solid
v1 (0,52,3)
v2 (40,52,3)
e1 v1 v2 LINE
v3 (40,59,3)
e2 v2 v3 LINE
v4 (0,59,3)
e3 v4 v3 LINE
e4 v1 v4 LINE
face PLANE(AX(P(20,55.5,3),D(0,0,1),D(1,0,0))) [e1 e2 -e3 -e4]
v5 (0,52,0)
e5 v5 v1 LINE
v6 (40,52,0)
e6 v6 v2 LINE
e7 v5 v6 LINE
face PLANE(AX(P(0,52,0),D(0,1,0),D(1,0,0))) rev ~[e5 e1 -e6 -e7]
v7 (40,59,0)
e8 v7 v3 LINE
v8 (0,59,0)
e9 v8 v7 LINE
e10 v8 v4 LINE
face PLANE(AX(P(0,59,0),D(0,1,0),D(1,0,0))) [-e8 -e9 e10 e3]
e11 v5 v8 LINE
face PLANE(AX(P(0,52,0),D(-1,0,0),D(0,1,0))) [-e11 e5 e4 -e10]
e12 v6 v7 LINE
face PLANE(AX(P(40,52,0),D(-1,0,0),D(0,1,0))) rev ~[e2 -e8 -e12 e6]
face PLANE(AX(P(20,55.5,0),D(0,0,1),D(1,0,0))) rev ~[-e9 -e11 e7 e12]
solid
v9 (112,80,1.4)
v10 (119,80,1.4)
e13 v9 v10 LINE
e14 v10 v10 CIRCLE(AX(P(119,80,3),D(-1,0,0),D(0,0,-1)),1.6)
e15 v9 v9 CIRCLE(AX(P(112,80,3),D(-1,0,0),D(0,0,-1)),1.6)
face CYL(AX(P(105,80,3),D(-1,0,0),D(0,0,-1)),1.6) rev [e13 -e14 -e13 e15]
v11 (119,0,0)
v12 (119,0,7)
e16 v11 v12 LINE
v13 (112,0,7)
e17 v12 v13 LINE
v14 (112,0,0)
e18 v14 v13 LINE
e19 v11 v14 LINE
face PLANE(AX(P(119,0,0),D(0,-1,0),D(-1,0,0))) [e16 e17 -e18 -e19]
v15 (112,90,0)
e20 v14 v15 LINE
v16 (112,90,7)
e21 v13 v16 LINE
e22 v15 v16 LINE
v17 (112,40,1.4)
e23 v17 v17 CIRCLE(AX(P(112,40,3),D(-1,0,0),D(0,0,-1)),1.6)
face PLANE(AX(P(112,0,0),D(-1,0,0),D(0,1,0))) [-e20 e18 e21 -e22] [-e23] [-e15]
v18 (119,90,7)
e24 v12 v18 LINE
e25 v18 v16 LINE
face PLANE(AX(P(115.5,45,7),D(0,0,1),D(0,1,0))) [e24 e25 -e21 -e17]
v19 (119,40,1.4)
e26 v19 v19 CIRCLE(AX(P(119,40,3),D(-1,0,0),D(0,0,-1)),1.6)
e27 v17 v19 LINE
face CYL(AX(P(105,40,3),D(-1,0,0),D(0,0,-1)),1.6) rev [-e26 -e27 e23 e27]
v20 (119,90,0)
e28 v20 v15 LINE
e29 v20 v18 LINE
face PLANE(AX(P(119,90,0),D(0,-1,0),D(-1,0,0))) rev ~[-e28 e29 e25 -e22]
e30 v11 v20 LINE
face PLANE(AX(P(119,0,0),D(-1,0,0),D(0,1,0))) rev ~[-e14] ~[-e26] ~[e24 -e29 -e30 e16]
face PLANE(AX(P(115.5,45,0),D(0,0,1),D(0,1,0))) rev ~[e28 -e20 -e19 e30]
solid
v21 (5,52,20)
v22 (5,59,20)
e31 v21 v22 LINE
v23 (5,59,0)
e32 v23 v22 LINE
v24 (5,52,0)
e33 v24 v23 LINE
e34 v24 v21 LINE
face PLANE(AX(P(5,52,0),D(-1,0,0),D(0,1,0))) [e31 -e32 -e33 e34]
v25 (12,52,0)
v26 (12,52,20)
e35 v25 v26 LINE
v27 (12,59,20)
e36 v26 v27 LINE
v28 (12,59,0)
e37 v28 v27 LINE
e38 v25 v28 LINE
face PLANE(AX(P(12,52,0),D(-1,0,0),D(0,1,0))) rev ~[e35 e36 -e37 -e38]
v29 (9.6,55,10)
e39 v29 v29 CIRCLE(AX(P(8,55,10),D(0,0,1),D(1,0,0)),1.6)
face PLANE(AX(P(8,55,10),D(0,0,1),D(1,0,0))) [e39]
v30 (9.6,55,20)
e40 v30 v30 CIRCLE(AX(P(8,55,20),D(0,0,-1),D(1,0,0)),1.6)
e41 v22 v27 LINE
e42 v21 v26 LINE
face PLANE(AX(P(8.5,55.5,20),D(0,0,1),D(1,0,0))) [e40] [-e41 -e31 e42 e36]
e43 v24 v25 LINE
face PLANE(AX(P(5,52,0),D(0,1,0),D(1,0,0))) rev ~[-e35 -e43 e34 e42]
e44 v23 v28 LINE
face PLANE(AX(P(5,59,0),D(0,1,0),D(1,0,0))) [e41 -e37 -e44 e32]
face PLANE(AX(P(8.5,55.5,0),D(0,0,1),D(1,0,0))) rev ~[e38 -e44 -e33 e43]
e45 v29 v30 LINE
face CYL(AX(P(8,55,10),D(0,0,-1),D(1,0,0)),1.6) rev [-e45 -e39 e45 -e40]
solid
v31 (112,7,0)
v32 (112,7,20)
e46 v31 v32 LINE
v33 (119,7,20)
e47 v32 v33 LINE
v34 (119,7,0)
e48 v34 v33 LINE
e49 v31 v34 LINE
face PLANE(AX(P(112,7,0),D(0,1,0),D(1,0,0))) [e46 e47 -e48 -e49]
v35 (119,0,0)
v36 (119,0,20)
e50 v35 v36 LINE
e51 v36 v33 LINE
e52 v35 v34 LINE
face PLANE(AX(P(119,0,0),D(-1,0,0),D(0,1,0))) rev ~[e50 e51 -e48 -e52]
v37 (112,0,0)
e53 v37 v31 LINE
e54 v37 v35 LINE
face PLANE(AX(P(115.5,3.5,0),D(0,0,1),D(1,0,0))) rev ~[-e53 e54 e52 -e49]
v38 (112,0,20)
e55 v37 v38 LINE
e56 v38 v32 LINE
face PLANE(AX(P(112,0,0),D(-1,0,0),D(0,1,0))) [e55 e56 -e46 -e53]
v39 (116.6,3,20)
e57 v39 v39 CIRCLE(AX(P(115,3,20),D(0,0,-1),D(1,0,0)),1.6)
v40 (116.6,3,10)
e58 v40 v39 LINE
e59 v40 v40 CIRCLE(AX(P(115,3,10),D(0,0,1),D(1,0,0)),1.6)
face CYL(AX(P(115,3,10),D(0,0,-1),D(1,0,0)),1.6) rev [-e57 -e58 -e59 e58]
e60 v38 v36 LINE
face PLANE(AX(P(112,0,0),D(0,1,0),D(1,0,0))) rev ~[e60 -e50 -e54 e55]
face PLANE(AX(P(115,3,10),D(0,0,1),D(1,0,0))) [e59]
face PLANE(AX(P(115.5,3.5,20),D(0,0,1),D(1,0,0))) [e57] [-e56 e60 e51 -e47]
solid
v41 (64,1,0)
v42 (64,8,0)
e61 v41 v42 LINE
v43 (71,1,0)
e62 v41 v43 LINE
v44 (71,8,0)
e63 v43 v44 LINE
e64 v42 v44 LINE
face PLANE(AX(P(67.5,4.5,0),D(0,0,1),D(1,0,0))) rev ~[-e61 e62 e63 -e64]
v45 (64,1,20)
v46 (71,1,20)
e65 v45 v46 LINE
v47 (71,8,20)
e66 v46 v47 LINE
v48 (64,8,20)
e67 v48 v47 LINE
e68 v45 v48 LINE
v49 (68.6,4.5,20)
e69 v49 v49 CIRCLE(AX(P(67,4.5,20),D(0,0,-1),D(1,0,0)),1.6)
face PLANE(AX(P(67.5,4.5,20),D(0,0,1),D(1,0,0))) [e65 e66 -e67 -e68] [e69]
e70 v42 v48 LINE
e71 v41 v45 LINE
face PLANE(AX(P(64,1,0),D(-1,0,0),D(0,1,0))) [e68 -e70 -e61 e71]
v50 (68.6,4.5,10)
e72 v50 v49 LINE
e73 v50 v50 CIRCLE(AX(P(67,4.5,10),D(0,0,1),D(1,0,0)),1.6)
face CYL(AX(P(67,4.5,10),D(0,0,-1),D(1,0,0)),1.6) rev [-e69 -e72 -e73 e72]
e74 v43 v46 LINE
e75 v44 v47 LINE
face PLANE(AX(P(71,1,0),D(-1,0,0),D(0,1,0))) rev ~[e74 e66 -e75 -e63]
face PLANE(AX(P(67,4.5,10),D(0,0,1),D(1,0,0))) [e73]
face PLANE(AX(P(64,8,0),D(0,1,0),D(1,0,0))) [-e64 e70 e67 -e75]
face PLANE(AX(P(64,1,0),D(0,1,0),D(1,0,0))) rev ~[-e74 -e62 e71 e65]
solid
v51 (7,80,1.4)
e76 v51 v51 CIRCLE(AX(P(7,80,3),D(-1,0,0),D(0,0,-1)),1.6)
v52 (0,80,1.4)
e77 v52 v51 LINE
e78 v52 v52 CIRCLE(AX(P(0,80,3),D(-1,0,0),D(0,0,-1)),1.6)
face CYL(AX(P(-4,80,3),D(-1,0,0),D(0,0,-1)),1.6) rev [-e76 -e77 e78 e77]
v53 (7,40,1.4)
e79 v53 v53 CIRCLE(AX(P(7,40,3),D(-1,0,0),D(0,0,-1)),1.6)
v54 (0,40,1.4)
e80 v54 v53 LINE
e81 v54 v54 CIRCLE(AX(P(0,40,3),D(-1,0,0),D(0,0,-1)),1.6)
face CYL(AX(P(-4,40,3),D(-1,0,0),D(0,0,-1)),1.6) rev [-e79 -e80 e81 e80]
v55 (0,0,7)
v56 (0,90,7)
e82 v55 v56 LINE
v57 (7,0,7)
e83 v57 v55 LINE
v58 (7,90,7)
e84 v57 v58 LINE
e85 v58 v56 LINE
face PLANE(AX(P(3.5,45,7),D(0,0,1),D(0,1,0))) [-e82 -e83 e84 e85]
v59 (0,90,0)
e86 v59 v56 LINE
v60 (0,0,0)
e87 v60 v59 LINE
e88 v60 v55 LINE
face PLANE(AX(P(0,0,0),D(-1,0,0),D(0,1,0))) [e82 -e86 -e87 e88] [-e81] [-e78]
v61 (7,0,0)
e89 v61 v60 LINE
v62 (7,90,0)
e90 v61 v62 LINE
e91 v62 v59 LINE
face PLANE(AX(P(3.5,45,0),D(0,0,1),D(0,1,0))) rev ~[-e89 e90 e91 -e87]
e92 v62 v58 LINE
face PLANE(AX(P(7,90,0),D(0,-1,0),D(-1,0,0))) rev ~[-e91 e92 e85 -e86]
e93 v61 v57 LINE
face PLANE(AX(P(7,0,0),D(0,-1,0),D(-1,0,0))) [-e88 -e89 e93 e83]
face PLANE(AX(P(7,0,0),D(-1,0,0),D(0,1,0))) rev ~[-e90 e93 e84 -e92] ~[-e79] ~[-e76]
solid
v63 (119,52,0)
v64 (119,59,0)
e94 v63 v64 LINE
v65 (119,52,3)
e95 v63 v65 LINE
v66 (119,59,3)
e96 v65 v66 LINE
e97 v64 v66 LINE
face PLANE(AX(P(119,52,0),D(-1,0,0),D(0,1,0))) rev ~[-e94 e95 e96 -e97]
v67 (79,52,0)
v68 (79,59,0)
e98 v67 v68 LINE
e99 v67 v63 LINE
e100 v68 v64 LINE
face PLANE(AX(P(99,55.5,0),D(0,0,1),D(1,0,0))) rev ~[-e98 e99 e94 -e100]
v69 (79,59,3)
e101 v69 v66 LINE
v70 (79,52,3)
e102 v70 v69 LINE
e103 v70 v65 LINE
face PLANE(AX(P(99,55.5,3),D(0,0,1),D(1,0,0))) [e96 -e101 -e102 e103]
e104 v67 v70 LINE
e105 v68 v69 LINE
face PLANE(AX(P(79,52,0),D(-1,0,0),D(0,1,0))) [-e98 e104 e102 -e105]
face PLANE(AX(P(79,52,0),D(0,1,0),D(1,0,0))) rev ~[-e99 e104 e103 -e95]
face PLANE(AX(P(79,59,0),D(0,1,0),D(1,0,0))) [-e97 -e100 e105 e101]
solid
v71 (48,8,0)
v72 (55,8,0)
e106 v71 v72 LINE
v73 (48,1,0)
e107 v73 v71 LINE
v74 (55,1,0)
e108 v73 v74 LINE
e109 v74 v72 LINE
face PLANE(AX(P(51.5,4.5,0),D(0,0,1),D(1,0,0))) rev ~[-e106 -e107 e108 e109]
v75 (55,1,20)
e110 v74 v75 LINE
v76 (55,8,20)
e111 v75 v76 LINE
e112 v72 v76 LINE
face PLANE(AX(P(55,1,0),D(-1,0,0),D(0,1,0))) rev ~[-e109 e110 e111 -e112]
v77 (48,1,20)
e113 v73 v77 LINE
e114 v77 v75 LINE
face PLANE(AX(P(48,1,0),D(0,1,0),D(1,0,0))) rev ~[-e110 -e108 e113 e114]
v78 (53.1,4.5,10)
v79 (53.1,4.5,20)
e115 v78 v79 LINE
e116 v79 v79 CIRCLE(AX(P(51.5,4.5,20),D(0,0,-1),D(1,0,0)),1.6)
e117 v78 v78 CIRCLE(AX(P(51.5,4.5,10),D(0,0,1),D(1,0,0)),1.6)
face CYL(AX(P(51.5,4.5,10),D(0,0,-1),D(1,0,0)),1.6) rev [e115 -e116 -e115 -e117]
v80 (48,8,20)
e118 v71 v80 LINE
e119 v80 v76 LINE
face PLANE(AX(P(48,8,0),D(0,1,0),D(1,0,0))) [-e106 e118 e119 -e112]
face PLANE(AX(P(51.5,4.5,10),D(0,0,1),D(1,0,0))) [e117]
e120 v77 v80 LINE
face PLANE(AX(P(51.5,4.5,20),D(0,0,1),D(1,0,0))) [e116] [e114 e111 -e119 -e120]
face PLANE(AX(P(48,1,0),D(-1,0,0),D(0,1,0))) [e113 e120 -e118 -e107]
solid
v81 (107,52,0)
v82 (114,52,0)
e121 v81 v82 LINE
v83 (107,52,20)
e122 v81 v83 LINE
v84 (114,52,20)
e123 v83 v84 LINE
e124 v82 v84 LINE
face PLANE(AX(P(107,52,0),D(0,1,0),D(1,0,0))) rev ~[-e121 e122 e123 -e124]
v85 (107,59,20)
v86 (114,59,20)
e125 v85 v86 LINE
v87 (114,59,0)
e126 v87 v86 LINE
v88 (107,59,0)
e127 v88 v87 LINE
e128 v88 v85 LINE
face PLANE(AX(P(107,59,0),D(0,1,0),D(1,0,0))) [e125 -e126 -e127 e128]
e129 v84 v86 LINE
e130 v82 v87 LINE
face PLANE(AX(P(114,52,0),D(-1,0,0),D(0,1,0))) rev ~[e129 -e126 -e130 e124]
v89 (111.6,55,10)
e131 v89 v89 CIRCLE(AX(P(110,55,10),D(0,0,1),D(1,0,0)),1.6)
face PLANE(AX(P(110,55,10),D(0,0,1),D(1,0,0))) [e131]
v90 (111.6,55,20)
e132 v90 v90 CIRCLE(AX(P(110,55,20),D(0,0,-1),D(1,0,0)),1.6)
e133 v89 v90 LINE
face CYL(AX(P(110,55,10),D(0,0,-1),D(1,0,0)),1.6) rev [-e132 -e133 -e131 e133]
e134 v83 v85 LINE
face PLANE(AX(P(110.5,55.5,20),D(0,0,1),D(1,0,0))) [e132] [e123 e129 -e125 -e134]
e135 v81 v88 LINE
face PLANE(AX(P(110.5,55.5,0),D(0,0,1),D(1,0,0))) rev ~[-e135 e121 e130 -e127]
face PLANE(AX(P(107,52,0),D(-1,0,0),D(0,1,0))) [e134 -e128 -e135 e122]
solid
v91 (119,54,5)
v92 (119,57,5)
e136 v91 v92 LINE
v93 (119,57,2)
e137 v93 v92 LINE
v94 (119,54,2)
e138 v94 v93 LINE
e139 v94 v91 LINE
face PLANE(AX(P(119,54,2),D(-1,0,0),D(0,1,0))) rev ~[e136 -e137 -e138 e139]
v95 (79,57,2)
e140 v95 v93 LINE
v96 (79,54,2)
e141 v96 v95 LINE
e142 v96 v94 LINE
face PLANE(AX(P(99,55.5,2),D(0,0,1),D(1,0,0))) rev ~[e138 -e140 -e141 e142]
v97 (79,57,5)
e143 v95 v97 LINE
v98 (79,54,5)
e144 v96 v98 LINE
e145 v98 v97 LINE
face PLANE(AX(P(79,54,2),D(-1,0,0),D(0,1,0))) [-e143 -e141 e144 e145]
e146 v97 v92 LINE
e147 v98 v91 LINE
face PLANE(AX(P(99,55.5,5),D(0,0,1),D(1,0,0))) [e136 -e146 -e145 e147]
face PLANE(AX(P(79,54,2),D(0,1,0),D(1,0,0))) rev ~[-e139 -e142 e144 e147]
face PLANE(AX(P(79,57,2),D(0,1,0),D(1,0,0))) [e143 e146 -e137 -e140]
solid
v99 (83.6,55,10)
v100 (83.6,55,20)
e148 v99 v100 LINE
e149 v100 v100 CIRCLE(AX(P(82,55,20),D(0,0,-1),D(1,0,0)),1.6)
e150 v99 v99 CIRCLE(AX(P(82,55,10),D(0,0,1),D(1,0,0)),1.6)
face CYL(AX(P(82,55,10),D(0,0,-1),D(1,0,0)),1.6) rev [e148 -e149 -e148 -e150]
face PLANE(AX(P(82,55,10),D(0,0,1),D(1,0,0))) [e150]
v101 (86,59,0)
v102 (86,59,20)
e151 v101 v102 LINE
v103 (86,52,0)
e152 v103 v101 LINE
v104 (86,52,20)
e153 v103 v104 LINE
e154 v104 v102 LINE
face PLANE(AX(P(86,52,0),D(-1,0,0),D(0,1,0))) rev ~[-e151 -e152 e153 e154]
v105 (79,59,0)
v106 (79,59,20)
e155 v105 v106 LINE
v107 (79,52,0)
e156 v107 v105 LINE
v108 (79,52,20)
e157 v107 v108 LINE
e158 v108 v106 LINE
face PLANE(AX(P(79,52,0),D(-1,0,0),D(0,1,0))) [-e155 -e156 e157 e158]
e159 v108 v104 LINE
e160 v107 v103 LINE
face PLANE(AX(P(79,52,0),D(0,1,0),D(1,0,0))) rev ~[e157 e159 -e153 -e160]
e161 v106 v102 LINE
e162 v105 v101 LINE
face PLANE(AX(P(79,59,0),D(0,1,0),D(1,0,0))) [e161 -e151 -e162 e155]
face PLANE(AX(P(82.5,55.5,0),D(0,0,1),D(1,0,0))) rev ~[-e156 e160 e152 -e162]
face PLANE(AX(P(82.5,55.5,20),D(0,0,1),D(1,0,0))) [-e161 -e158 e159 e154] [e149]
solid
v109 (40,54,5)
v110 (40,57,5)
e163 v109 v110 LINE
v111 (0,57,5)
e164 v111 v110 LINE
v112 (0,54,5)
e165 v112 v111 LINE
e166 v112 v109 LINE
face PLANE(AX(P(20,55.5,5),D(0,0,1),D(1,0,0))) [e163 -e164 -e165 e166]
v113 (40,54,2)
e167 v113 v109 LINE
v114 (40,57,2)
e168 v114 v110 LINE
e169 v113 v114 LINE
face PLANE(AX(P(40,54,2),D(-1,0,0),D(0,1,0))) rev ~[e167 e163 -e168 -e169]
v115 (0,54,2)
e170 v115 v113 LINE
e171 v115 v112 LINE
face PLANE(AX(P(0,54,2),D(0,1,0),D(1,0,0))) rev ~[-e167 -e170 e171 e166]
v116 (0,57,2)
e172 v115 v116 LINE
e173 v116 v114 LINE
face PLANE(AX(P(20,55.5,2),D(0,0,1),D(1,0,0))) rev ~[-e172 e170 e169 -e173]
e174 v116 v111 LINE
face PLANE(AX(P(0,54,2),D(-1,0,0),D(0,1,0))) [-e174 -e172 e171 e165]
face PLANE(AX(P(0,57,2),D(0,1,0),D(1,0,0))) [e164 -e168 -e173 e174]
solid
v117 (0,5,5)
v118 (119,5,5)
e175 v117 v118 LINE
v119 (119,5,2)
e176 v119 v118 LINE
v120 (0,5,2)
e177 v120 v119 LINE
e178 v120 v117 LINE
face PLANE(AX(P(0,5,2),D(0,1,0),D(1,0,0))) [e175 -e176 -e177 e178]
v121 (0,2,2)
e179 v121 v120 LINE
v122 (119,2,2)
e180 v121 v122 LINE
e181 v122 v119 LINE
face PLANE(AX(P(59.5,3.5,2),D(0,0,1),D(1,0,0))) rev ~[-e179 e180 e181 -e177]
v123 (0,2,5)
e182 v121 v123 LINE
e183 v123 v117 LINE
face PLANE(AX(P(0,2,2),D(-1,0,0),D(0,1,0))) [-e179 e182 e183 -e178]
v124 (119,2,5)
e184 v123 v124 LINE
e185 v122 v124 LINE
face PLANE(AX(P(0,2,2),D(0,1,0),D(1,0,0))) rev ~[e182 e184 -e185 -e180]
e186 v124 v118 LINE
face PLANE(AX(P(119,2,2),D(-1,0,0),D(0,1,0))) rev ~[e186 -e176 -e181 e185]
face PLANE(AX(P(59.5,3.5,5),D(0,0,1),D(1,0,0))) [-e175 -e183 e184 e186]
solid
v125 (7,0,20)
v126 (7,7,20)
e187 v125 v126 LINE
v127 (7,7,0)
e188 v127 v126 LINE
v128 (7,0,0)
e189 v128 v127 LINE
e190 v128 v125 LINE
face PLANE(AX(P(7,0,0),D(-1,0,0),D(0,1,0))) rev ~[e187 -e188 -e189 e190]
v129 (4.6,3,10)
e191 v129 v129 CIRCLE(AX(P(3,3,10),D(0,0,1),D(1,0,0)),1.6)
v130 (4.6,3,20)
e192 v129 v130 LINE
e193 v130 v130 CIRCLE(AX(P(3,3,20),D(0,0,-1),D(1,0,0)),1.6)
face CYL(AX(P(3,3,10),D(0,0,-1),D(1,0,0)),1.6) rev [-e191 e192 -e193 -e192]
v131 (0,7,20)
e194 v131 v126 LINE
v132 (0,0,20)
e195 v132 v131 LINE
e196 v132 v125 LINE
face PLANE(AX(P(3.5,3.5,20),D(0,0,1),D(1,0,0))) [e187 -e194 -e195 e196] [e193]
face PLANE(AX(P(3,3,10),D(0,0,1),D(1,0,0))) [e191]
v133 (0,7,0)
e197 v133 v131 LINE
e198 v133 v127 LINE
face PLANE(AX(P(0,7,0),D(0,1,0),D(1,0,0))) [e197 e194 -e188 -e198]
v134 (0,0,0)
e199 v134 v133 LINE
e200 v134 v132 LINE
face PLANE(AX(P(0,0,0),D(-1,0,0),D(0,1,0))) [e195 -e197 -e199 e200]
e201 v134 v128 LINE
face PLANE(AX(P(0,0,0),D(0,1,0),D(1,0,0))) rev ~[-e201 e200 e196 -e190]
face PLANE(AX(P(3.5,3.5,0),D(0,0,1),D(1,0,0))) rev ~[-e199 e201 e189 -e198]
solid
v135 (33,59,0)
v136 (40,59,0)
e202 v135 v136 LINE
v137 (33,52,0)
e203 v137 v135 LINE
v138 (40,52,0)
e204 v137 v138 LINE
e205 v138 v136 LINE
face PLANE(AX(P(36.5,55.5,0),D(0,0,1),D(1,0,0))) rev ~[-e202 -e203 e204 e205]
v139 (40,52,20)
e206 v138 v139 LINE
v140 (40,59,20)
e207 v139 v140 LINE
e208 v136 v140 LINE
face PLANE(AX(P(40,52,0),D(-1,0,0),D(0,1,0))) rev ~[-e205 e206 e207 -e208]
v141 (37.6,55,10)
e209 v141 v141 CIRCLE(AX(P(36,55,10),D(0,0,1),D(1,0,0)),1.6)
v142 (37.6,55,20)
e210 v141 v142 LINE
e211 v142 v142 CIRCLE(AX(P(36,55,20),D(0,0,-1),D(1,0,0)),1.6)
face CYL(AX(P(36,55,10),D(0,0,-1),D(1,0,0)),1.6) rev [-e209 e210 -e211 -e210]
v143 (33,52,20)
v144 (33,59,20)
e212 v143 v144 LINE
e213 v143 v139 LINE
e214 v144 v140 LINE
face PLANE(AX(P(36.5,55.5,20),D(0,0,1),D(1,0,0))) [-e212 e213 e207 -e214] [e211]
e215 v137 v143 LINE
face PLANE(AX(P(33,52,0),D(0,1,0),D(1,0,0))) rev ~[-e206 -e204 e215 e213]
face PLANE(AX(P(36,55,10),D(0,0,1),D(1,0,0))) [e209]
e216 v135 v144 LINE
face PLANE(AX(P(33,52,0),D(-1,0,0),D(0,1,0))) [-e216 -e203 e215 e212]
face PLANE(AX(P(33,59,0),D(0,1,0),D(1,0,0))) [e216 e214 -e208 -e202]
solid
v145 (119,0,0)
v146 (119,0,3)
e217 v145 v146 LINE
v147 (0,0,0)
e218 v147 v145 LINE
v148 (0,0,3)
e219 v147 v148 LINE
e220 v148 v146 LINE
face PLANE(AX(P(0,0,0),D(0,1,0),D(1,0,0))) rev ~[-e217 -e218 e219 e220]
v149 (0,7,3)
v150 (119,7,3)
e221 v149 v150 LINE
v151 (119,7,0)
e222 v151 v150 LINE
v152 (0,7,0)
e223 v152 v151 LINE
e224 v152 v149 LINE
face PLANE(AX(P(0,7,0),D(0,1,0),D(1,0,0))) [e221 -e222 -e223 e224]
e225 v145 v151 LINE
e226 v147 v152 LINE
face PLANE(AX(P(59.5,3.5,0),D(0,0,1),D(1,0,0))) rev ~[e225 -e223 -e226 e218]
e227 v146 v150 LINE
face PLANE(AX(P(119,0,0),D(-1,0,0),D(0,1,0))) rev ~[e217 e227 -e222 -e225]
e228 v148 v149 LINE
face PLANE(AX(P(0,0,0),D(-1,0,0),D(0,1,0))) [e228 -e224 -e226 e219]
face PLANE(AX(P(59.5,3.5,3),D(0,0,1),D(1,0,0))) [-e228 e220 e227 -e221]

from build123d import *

# Parameters (mm, degrees)
BOX_W                   = 119
BOX_H                   = 7
BOX_DEPTH               = 3
BOX001_W                = 119
BOX001_H                = 3
BOX001_DEPTH            = 3
BOX010_W                = 40
BOX010_H                = 3
BOX010_DEPTH            = 3
BOX011_W                = 40
BOX011_H                = 7
BOX011_DEPTH            = 3
BOX012_W                = 40
BOX012_H                = 3
BOX012_DEPTH            = 3
BOX013_W                = 40
BOX013_H                = 7
BOX013_DEPTH            = 3
CYLINDER_R              = 1.6
CYLINDER_DEPTH          = 20
BOX002_W                = 7
BOX002_H                = 7
BOX002_DEPTH            = 20
CYLINDER004_R           = 1.6
CYLINDER004_DEPTH       = 20
BOX014_W                = 7
BOX014_H                = 7
BOX014_DEPTH            = 20
CYLINDER002_R           = 1.6
CYLINDER002_DEPTH       = 20
BOX015_W                = 7
BOX015_H                = 7
BOX015_DEPTH            = 20
CYLINDER001_R           = 1.6
CYLINDER001_DEPTH       = 20
BOX016_W                = 7
BOX016_H                = 7
BOX016_DEPTH            = 20
CYLINDER003_R           = 1.6
CYLINDER003_DEPTH       = 20
BOX017_W                = 7
BOX017_H                = 7
BOX017_DEPTH            = 20
CYLINDER006_R           = 1.6
CYLINDER006_DEPTH       = 20
BOX005_W                = 7
BOX005_H                = 7
BOX005_DEPTH            = 20
CYLINDER007_R           = 1.6
CYLINDER007_DEPTH       = 20
BOX004_W                = 7
BOX004_H                = 7
BOX004_DEPTH            = 20
CYLINDER005_R           = 1.6
CYLINDER005_DEPTH       = 20
BOX003_W                = 7
BOX003_H                = 7
BOX003_DEPTH            = 20
CYLINDER009_R           = 1.6
CYLINDER009_DEPTH       = 20
CYLINDER009_PITCH_ANGLE = 90
CYLINDER008_R           = 1.6
CYLINDER008_DEPTH       = 20
CYLINDER008_PITCH_ANGLE = 90
BOX006_W                = 90
BOX006_H                = 7
BOX006_DEPTH            = 7
BOX006_PLACEMENT_ANGLE  = 90
CYLINDER011_R           = 1.6
CYLINDER011_DEPTH       = 20
CYLINDER011_PITCH_ANGLE = 90
CYLINDER010_R           = 1.6
CYLINDER010_DEPTH       = 20
CYLINDER010_PITCH_ANGLE = 90
BOX007_W                = 90
BOX007_H                = 7
BOX007_DEPTH            = 7
BOX007_PLACEMENT_ANGLE  = 90


with BuildPart() as cube:
    # Box → Box (new body)
    with BuildSketch(Plane.XY):
        with Locations((59.5, 3.5)):
            Rectangle(BOX_W, BOX_H)
    extrude(amount=BOX_DEPTH)


with BuildPart() as cube001:
    # Box001 → Box001 (new body)
    with BuildSketch(Plane(origin=(0, 2, 2), x_dir=(1, 0, 0), z_dir=(0, 0, 1))):
        with Locations((59.5, 1.5)):
            Rectangle(BOX001_W, BOX001_H)
    extrude(amount=BOX001_DEPTH)


with BuildPart() as cube010:
    # Box010 → Box010 (new body)
    with BuildSketch(Plane(origin=(0, 54, 2), x_dir=(1, 0, 0), z_dir=(0, 0, 1))):
        with Locations((20, 1.5)):
            Rectangle(BOX010_W, BOX010_H)
    extrude(amount=BOX010_DEPTH)


with BuildPart() as cube011:
    # Box011 → Box011 (new body)
    with BuildSketch(Plane(origin=(0, 52, 0), x_dir=(1, 0, 0), z_dir=(0, 0, 1))):
        with Locations((20, 3.5)):
            Rectangle(BOX011_W, BOX011_H)
    extrude(amount=BOX011_DEPTH)


with BuildPart() as cube012:
    # Box012 → Box012 (new body)
    with BuildSketch(Plane(origin=(79, 54, 2), x_dir=(1, 0, 0), z_dir=(0, 0, 1))):
        with Locations((20, 1.5)):
            Rectangle(BOX012_W, BOX012_H)
    extrude(amount=BOX012_DEPTH)


with BuildPart() as cube013:
    # Box013 → Box013 (new body)
    with BuildSketch(Plane(origin=(79, 52, 0), x_dir=(1, 0, 0), z_dir=(0, 0, 1))):
        with Locations((20, 3.5)):
            Rectangle(BOX013_W, BOX013_H)
    extrude(amount=BOX013_DEPTH)


with BuildPart() as cylindre:
    # Cylinder → Cylinder (new body)
    with BuildSketch(Plane(origin=(3, 3, 10), x_dir=(1, 0, 0), z_dir=(0, 0, 1))):
        Circle(CYLINDER_R)
    extrude(amount=CYLINDER_DEPTH)


with BuildPart() as cut:
    # Box002 → Box002 (new body)
    with BuildSketch(Plane.XY):
        with Locations((3.5, 3.5)):
            Rectangle(BOX002_W, BOX002_H)
    extrude(amount=BOX002_DEPTH)

    # Cut: cut Cylindre
    add(cylindre.part, mode=Mode.SUBTRACT)


with BuildPart() as cylindre004:
    # Cylinder004 → Cylinder004 (new body)
    with BuildSketch(Plane(origin=(110, 55, 10), x_dir=(1, 0, 0), z_dir=(0, 0, 1))):
        Circle(CYLINDER004_R)
    extrude(amount=CYLINDER004_DEPTH)


with BuildPart() as cut001:
    # Box014 → Box014 (new body)
    with BuildSketch(Plane(origin=(107, 52, 0), x_dir=(1, 0, 0), z_dir=(0, 0, 1))):
        with Locations((3.5, 3.5)):
            Rectangle(BOX014_W, BOX014_H)
    extrude(amount=BOX014_DEPTH)

    # Cut001: cut Cylindre004
    add(cylindre004.part, mode=Mode.SUBTRACT)


with BuildPart() as cylindre002:
    # Cylinder002 → Cylinder002 (new body)
    with BuildSketch(Plane(origin=(36, 55, 10), x_dir=(1, 0, 0), z_dir=(0, 0, 1))):
        Circle(CYLINDER002_R)
    extrude(amount=CYLINDER002_DEPTH)


with BuildPart() as cut002:
    # Box015 → Box015 (new body)
    with BuildSketch(Plane(origin=(33, 52, 0), x_dir=(1, 0, 0), z_dir=(0, 0, 1))):
        with Locations((3.5, 3.5)):
            Rectangle(BOX015_W, BOX015_H)
    extrude(amount=BOX015_DEPTH)

    # Cut002: cut Cylindre002
    add(cylindre002.part, mode=Mode.SUBTRACT)


with BuildPart() as cylindre001:
    # Cylinder001 → Cylinder001 (new body)
    with BuildSketch(Plane(origin=(8, 55, 10), x_dir=(1, 0, 0), z_dir=(0, 0, 1))):
        Circle(CYLINDER001_R)
    extrude(amount=CYLINDER001_DEPTH)


with BuildPart() as cut003:
    # Box016 → Box016 (new body)
    with BuildSketch(Plane(origin=(5, 52, 0), x_dir=(1, 0, 0), z_dir=(0, 0, 1))):
        with Locations((3.5, 3.5)):
            Rectangle(BOX016_W, BOX016_H)
    extrude(amount=BOX016_DEPTH)

    # Cut003: cut Cylindre001
    add(cylindre001.part, mode=Mode.SUBTRACT)


with BuildPart() as cylindre003:
    # Cylinder003 → Cylinder003 (new body)
    with BuildSketch(Plane(origin=(82, 55, 10), x_dir=(1, 0, 0), z_dir=(0, 0, 1))):
        Circle(CYLINDER003_R)
    extrude(amount=CYLINDER003_DEPTH)


with BuildPart() as cut004:
    # Box017 → Box017 (new body)
    with BuildSketch(Plane(origin=(79, 52, 0), x_dir=(1, 0, 0), z_dir=(0, 0, 1))):
        with Locations((3.5, 3.5)):
            Rectangle(BOX017_W, BOX017_H)
    extrude(amount=BOX017_DEPTH)

    # Cut004: cut Cylindre003
    add(cylindre003.part, mode=Mode.SUBTRACT)


with BuildPart() as cylindre006:
    # Cylinder006 → Cylinder006 (new body)
    with BuildSketch(Plane(origin=(67, 4.5, 10), x_dir=(1, 0, 0), z_dir=(0, 0, 1))):
        Circle(CYLINDER006_R)
    extrude(amount=CYLINDER006_DEPTH)


with BuildPart() as cut005:
    # Box005 → Box005 (new body)
    with BuildSketch(Plane(origin=(64, 1, 0), x_dir=(1, 0, 0), z_dir=(0, 0, 1))):
        with Locations((3.5, 3.5)):
            Rectangle(BOX005_W, BOX005_H)
    extrude(amount=BOX005_DEPTH)

    # Cut005: cut Cylindre006
    add(cylindre006.part, mode=Mode.SUBTRACT)


with BuildPart() as cylindre007:
    # Cylinder007 → Cylinder007 (new body)
    with BuildSketch(Plane(origin=(51.5, 4.5, 10), x_dir=(1, 0, 0), z_dir=(0, 0, 1))):
        Circle(CYLINDER007_R)
    extrude(amount=CYLINDER007_DEPTH)


with BuildPart() as cut006:
    # Box004 → Box004 (new body)
    with BuildSketch(Plane(origin=(48, 1, 0), x_dir=(1, 0, 0), z_dir=(0, 0, 1))):
        with Locations((3.5, 3.5)):
            Rectangle(BOX004_W, BOX004_H)
    extrude(amount=BOX004_DEPTH)

    # Cut006: cut Cylindre007
    add(cylindre007.part, mode=Mode.SUBTRACT)


with BuildPart() as cylindre005:
    # Cylinder005 → Cylinder005 (new body)
    with BuildSketch(Plane(origin=(115, 3, 10), x_dir=(1, 0, 0), z_dir=(0, 0, 1))):
        Circle(CYLINDER005_R)
    extrude(amount=CYLINDER005_DEPTH)


with BuildPart() as cut007:
    # Box003 → Box003 (new body)
    with BuildSketch(Plane(origin=(112, 0, 0), x_dir=(1, 0, 0), z_dir=(0, 0, 1))):
        with Locations((3.5, 3.5)):
            Rectangle(BOX003_W, BOX003_H)
    extrude(amount=BOX003_DEPTH)

    # Cut007: cut Cylindre005
    add(cylindre005.part, mode=Mode.SUBTRACT)


with BuildPart() as cylindre009:
    # Cylinder009 → Cylinder009 (new body)
    with BuildSketch(Plane.XY):
        Circle(CYLINDER009_R)
    extrude(amount=CYLINDER009_DEPTH)


with BuildPart() as cylindre009_1:
    # Cylinder009 pitch: moved
    add(cylindre009.part.rotate(Axis((0, 0, 0), (0, 1, 0)), CYLINDER009_PITCH_ANGLE))


with BuildPart() as cylindre009_2:
    # Cylinder009 placement: moved
    add(cylindre009_1.part.moved(Location((-4, 80, 3))))


with BuildPart() as cylindre008:
    # Cylinder008 → Cylinder008 (new body)
    with BuildSketch(Plane.XY):
        Circle(CYLINDER008_R)
    extrude(amount=CYLINDER008_DEPTH)


with BuildPart() as cylindre008_1:
    # Cylinder008 pitch: moved
    add(cylindre008.part.rotate(Axis((0, 0, 0), (0, 1, 0)), CYLINDER008_PITCH_ANGLE))


with BuildPart() as cylindre008_2:
    # Cylinder008 placement: moved
    add(cylindre008_1.part.moved(Location((-4, 40, 3))))


with BuildPart() as cut009:
    # Box006 → Box006 (new body)
    with BuildSketch(Plane.XY):
        with Locations((45, 3.5)):
            Rectangle(BOX006_W, BOX006_H)
    extrude(amount=BOX006_DEPTH)


with BuildPart() as cut009_1:
    # Box006 placement: moved
    add(cut009.part.moved(Location((7, 0, 0))).rotate(Axis((7, 0, 0), (0, 0, 1)), BOX006_PLACEMENT_ANGLE))

    # Cut008: cut Cylindre008
    add(cylindre008_2.part, mode=Mode.SUBTRACT)

    # Cut009: cut Cylindre009
    add(cylindre009_2.part, mode=Mode.SUBTRACT)


with BuildPart() as cylindre011:
    # Cylinder011 → Cylinder011 (new body)
    with BuildSketch(Plane.XY):
        Circle(CYLINDER011_R)
    extrude(amount=CYLINDER011_DEPTH)


with BuildPart() as cylindre011_1:
    # Cylinder011 pitch: moved
    add(cylindre011.part.rotate(Axis((0, 0, 0), (0, 1, 0)), CYLINDER011_PITCH_ANGLE))


with BuildPart() as cylindre011_2:
    # Cylinder011 placement: moved
    add(cylindre011_1.part.moved(Location((105, 80, 3))))


with BuildPart() as cylindre010:
    # Cylinder010 → Cylinder010 (new body)
    with BuildSketch(Plane.XY):
        Circle(CYLINDER010_R)
    extrude(amount=CYLINDER010_DEPTH)


with BuildPart() as cylindre010_1:
    # Cylinder010 pitch: moved
    add(cylindre010.part.rotate(Axis((0, 0, 0), (0, 1, 0)), CYLINDER010_PITCH_ANGLE))


with BuildPart() as cylindre010_2:
    # Cylinder010 placement: moved
    add(cylindre010_1.part.moved(Location((105, 40, 3))))


with BuildPart() as cut011:
    # Box007 → Box007 (new body)
    with BuildSketch(Plane.XY):
        with Locations((45, 3.5)):
            Rectangle(BOX007_W, BOX007_H)
    extrude(amount=BOX007_DEPTH)


with BuildPart() as cut011_1:
    # Box007 placement: moved
    add(cut011.part.moved(Location((119, 0, 0))).rotate(Axis((119, 0, 0), (0, 0, 1)), BOX007_PLACEMENT_ANGLE))

    # Cut010: cut Cylindre010
    add(cylindre010_2.part, mode=Mode.SUBTRACT)

    # Cut011: cut Cylindre011
    add(cylindre011_2.part, mode=Mode.SUBTRACT)


solid = Compound([cube.part, cube001.part, cube010.part, cube011.part, cube012.part, cube013.part, cut.part, cut001.part, cut002.part, cut003.part, cut004.part, cut005.part, cut006.part, cut007.part, cut009_1.part, cut011_1.part])
